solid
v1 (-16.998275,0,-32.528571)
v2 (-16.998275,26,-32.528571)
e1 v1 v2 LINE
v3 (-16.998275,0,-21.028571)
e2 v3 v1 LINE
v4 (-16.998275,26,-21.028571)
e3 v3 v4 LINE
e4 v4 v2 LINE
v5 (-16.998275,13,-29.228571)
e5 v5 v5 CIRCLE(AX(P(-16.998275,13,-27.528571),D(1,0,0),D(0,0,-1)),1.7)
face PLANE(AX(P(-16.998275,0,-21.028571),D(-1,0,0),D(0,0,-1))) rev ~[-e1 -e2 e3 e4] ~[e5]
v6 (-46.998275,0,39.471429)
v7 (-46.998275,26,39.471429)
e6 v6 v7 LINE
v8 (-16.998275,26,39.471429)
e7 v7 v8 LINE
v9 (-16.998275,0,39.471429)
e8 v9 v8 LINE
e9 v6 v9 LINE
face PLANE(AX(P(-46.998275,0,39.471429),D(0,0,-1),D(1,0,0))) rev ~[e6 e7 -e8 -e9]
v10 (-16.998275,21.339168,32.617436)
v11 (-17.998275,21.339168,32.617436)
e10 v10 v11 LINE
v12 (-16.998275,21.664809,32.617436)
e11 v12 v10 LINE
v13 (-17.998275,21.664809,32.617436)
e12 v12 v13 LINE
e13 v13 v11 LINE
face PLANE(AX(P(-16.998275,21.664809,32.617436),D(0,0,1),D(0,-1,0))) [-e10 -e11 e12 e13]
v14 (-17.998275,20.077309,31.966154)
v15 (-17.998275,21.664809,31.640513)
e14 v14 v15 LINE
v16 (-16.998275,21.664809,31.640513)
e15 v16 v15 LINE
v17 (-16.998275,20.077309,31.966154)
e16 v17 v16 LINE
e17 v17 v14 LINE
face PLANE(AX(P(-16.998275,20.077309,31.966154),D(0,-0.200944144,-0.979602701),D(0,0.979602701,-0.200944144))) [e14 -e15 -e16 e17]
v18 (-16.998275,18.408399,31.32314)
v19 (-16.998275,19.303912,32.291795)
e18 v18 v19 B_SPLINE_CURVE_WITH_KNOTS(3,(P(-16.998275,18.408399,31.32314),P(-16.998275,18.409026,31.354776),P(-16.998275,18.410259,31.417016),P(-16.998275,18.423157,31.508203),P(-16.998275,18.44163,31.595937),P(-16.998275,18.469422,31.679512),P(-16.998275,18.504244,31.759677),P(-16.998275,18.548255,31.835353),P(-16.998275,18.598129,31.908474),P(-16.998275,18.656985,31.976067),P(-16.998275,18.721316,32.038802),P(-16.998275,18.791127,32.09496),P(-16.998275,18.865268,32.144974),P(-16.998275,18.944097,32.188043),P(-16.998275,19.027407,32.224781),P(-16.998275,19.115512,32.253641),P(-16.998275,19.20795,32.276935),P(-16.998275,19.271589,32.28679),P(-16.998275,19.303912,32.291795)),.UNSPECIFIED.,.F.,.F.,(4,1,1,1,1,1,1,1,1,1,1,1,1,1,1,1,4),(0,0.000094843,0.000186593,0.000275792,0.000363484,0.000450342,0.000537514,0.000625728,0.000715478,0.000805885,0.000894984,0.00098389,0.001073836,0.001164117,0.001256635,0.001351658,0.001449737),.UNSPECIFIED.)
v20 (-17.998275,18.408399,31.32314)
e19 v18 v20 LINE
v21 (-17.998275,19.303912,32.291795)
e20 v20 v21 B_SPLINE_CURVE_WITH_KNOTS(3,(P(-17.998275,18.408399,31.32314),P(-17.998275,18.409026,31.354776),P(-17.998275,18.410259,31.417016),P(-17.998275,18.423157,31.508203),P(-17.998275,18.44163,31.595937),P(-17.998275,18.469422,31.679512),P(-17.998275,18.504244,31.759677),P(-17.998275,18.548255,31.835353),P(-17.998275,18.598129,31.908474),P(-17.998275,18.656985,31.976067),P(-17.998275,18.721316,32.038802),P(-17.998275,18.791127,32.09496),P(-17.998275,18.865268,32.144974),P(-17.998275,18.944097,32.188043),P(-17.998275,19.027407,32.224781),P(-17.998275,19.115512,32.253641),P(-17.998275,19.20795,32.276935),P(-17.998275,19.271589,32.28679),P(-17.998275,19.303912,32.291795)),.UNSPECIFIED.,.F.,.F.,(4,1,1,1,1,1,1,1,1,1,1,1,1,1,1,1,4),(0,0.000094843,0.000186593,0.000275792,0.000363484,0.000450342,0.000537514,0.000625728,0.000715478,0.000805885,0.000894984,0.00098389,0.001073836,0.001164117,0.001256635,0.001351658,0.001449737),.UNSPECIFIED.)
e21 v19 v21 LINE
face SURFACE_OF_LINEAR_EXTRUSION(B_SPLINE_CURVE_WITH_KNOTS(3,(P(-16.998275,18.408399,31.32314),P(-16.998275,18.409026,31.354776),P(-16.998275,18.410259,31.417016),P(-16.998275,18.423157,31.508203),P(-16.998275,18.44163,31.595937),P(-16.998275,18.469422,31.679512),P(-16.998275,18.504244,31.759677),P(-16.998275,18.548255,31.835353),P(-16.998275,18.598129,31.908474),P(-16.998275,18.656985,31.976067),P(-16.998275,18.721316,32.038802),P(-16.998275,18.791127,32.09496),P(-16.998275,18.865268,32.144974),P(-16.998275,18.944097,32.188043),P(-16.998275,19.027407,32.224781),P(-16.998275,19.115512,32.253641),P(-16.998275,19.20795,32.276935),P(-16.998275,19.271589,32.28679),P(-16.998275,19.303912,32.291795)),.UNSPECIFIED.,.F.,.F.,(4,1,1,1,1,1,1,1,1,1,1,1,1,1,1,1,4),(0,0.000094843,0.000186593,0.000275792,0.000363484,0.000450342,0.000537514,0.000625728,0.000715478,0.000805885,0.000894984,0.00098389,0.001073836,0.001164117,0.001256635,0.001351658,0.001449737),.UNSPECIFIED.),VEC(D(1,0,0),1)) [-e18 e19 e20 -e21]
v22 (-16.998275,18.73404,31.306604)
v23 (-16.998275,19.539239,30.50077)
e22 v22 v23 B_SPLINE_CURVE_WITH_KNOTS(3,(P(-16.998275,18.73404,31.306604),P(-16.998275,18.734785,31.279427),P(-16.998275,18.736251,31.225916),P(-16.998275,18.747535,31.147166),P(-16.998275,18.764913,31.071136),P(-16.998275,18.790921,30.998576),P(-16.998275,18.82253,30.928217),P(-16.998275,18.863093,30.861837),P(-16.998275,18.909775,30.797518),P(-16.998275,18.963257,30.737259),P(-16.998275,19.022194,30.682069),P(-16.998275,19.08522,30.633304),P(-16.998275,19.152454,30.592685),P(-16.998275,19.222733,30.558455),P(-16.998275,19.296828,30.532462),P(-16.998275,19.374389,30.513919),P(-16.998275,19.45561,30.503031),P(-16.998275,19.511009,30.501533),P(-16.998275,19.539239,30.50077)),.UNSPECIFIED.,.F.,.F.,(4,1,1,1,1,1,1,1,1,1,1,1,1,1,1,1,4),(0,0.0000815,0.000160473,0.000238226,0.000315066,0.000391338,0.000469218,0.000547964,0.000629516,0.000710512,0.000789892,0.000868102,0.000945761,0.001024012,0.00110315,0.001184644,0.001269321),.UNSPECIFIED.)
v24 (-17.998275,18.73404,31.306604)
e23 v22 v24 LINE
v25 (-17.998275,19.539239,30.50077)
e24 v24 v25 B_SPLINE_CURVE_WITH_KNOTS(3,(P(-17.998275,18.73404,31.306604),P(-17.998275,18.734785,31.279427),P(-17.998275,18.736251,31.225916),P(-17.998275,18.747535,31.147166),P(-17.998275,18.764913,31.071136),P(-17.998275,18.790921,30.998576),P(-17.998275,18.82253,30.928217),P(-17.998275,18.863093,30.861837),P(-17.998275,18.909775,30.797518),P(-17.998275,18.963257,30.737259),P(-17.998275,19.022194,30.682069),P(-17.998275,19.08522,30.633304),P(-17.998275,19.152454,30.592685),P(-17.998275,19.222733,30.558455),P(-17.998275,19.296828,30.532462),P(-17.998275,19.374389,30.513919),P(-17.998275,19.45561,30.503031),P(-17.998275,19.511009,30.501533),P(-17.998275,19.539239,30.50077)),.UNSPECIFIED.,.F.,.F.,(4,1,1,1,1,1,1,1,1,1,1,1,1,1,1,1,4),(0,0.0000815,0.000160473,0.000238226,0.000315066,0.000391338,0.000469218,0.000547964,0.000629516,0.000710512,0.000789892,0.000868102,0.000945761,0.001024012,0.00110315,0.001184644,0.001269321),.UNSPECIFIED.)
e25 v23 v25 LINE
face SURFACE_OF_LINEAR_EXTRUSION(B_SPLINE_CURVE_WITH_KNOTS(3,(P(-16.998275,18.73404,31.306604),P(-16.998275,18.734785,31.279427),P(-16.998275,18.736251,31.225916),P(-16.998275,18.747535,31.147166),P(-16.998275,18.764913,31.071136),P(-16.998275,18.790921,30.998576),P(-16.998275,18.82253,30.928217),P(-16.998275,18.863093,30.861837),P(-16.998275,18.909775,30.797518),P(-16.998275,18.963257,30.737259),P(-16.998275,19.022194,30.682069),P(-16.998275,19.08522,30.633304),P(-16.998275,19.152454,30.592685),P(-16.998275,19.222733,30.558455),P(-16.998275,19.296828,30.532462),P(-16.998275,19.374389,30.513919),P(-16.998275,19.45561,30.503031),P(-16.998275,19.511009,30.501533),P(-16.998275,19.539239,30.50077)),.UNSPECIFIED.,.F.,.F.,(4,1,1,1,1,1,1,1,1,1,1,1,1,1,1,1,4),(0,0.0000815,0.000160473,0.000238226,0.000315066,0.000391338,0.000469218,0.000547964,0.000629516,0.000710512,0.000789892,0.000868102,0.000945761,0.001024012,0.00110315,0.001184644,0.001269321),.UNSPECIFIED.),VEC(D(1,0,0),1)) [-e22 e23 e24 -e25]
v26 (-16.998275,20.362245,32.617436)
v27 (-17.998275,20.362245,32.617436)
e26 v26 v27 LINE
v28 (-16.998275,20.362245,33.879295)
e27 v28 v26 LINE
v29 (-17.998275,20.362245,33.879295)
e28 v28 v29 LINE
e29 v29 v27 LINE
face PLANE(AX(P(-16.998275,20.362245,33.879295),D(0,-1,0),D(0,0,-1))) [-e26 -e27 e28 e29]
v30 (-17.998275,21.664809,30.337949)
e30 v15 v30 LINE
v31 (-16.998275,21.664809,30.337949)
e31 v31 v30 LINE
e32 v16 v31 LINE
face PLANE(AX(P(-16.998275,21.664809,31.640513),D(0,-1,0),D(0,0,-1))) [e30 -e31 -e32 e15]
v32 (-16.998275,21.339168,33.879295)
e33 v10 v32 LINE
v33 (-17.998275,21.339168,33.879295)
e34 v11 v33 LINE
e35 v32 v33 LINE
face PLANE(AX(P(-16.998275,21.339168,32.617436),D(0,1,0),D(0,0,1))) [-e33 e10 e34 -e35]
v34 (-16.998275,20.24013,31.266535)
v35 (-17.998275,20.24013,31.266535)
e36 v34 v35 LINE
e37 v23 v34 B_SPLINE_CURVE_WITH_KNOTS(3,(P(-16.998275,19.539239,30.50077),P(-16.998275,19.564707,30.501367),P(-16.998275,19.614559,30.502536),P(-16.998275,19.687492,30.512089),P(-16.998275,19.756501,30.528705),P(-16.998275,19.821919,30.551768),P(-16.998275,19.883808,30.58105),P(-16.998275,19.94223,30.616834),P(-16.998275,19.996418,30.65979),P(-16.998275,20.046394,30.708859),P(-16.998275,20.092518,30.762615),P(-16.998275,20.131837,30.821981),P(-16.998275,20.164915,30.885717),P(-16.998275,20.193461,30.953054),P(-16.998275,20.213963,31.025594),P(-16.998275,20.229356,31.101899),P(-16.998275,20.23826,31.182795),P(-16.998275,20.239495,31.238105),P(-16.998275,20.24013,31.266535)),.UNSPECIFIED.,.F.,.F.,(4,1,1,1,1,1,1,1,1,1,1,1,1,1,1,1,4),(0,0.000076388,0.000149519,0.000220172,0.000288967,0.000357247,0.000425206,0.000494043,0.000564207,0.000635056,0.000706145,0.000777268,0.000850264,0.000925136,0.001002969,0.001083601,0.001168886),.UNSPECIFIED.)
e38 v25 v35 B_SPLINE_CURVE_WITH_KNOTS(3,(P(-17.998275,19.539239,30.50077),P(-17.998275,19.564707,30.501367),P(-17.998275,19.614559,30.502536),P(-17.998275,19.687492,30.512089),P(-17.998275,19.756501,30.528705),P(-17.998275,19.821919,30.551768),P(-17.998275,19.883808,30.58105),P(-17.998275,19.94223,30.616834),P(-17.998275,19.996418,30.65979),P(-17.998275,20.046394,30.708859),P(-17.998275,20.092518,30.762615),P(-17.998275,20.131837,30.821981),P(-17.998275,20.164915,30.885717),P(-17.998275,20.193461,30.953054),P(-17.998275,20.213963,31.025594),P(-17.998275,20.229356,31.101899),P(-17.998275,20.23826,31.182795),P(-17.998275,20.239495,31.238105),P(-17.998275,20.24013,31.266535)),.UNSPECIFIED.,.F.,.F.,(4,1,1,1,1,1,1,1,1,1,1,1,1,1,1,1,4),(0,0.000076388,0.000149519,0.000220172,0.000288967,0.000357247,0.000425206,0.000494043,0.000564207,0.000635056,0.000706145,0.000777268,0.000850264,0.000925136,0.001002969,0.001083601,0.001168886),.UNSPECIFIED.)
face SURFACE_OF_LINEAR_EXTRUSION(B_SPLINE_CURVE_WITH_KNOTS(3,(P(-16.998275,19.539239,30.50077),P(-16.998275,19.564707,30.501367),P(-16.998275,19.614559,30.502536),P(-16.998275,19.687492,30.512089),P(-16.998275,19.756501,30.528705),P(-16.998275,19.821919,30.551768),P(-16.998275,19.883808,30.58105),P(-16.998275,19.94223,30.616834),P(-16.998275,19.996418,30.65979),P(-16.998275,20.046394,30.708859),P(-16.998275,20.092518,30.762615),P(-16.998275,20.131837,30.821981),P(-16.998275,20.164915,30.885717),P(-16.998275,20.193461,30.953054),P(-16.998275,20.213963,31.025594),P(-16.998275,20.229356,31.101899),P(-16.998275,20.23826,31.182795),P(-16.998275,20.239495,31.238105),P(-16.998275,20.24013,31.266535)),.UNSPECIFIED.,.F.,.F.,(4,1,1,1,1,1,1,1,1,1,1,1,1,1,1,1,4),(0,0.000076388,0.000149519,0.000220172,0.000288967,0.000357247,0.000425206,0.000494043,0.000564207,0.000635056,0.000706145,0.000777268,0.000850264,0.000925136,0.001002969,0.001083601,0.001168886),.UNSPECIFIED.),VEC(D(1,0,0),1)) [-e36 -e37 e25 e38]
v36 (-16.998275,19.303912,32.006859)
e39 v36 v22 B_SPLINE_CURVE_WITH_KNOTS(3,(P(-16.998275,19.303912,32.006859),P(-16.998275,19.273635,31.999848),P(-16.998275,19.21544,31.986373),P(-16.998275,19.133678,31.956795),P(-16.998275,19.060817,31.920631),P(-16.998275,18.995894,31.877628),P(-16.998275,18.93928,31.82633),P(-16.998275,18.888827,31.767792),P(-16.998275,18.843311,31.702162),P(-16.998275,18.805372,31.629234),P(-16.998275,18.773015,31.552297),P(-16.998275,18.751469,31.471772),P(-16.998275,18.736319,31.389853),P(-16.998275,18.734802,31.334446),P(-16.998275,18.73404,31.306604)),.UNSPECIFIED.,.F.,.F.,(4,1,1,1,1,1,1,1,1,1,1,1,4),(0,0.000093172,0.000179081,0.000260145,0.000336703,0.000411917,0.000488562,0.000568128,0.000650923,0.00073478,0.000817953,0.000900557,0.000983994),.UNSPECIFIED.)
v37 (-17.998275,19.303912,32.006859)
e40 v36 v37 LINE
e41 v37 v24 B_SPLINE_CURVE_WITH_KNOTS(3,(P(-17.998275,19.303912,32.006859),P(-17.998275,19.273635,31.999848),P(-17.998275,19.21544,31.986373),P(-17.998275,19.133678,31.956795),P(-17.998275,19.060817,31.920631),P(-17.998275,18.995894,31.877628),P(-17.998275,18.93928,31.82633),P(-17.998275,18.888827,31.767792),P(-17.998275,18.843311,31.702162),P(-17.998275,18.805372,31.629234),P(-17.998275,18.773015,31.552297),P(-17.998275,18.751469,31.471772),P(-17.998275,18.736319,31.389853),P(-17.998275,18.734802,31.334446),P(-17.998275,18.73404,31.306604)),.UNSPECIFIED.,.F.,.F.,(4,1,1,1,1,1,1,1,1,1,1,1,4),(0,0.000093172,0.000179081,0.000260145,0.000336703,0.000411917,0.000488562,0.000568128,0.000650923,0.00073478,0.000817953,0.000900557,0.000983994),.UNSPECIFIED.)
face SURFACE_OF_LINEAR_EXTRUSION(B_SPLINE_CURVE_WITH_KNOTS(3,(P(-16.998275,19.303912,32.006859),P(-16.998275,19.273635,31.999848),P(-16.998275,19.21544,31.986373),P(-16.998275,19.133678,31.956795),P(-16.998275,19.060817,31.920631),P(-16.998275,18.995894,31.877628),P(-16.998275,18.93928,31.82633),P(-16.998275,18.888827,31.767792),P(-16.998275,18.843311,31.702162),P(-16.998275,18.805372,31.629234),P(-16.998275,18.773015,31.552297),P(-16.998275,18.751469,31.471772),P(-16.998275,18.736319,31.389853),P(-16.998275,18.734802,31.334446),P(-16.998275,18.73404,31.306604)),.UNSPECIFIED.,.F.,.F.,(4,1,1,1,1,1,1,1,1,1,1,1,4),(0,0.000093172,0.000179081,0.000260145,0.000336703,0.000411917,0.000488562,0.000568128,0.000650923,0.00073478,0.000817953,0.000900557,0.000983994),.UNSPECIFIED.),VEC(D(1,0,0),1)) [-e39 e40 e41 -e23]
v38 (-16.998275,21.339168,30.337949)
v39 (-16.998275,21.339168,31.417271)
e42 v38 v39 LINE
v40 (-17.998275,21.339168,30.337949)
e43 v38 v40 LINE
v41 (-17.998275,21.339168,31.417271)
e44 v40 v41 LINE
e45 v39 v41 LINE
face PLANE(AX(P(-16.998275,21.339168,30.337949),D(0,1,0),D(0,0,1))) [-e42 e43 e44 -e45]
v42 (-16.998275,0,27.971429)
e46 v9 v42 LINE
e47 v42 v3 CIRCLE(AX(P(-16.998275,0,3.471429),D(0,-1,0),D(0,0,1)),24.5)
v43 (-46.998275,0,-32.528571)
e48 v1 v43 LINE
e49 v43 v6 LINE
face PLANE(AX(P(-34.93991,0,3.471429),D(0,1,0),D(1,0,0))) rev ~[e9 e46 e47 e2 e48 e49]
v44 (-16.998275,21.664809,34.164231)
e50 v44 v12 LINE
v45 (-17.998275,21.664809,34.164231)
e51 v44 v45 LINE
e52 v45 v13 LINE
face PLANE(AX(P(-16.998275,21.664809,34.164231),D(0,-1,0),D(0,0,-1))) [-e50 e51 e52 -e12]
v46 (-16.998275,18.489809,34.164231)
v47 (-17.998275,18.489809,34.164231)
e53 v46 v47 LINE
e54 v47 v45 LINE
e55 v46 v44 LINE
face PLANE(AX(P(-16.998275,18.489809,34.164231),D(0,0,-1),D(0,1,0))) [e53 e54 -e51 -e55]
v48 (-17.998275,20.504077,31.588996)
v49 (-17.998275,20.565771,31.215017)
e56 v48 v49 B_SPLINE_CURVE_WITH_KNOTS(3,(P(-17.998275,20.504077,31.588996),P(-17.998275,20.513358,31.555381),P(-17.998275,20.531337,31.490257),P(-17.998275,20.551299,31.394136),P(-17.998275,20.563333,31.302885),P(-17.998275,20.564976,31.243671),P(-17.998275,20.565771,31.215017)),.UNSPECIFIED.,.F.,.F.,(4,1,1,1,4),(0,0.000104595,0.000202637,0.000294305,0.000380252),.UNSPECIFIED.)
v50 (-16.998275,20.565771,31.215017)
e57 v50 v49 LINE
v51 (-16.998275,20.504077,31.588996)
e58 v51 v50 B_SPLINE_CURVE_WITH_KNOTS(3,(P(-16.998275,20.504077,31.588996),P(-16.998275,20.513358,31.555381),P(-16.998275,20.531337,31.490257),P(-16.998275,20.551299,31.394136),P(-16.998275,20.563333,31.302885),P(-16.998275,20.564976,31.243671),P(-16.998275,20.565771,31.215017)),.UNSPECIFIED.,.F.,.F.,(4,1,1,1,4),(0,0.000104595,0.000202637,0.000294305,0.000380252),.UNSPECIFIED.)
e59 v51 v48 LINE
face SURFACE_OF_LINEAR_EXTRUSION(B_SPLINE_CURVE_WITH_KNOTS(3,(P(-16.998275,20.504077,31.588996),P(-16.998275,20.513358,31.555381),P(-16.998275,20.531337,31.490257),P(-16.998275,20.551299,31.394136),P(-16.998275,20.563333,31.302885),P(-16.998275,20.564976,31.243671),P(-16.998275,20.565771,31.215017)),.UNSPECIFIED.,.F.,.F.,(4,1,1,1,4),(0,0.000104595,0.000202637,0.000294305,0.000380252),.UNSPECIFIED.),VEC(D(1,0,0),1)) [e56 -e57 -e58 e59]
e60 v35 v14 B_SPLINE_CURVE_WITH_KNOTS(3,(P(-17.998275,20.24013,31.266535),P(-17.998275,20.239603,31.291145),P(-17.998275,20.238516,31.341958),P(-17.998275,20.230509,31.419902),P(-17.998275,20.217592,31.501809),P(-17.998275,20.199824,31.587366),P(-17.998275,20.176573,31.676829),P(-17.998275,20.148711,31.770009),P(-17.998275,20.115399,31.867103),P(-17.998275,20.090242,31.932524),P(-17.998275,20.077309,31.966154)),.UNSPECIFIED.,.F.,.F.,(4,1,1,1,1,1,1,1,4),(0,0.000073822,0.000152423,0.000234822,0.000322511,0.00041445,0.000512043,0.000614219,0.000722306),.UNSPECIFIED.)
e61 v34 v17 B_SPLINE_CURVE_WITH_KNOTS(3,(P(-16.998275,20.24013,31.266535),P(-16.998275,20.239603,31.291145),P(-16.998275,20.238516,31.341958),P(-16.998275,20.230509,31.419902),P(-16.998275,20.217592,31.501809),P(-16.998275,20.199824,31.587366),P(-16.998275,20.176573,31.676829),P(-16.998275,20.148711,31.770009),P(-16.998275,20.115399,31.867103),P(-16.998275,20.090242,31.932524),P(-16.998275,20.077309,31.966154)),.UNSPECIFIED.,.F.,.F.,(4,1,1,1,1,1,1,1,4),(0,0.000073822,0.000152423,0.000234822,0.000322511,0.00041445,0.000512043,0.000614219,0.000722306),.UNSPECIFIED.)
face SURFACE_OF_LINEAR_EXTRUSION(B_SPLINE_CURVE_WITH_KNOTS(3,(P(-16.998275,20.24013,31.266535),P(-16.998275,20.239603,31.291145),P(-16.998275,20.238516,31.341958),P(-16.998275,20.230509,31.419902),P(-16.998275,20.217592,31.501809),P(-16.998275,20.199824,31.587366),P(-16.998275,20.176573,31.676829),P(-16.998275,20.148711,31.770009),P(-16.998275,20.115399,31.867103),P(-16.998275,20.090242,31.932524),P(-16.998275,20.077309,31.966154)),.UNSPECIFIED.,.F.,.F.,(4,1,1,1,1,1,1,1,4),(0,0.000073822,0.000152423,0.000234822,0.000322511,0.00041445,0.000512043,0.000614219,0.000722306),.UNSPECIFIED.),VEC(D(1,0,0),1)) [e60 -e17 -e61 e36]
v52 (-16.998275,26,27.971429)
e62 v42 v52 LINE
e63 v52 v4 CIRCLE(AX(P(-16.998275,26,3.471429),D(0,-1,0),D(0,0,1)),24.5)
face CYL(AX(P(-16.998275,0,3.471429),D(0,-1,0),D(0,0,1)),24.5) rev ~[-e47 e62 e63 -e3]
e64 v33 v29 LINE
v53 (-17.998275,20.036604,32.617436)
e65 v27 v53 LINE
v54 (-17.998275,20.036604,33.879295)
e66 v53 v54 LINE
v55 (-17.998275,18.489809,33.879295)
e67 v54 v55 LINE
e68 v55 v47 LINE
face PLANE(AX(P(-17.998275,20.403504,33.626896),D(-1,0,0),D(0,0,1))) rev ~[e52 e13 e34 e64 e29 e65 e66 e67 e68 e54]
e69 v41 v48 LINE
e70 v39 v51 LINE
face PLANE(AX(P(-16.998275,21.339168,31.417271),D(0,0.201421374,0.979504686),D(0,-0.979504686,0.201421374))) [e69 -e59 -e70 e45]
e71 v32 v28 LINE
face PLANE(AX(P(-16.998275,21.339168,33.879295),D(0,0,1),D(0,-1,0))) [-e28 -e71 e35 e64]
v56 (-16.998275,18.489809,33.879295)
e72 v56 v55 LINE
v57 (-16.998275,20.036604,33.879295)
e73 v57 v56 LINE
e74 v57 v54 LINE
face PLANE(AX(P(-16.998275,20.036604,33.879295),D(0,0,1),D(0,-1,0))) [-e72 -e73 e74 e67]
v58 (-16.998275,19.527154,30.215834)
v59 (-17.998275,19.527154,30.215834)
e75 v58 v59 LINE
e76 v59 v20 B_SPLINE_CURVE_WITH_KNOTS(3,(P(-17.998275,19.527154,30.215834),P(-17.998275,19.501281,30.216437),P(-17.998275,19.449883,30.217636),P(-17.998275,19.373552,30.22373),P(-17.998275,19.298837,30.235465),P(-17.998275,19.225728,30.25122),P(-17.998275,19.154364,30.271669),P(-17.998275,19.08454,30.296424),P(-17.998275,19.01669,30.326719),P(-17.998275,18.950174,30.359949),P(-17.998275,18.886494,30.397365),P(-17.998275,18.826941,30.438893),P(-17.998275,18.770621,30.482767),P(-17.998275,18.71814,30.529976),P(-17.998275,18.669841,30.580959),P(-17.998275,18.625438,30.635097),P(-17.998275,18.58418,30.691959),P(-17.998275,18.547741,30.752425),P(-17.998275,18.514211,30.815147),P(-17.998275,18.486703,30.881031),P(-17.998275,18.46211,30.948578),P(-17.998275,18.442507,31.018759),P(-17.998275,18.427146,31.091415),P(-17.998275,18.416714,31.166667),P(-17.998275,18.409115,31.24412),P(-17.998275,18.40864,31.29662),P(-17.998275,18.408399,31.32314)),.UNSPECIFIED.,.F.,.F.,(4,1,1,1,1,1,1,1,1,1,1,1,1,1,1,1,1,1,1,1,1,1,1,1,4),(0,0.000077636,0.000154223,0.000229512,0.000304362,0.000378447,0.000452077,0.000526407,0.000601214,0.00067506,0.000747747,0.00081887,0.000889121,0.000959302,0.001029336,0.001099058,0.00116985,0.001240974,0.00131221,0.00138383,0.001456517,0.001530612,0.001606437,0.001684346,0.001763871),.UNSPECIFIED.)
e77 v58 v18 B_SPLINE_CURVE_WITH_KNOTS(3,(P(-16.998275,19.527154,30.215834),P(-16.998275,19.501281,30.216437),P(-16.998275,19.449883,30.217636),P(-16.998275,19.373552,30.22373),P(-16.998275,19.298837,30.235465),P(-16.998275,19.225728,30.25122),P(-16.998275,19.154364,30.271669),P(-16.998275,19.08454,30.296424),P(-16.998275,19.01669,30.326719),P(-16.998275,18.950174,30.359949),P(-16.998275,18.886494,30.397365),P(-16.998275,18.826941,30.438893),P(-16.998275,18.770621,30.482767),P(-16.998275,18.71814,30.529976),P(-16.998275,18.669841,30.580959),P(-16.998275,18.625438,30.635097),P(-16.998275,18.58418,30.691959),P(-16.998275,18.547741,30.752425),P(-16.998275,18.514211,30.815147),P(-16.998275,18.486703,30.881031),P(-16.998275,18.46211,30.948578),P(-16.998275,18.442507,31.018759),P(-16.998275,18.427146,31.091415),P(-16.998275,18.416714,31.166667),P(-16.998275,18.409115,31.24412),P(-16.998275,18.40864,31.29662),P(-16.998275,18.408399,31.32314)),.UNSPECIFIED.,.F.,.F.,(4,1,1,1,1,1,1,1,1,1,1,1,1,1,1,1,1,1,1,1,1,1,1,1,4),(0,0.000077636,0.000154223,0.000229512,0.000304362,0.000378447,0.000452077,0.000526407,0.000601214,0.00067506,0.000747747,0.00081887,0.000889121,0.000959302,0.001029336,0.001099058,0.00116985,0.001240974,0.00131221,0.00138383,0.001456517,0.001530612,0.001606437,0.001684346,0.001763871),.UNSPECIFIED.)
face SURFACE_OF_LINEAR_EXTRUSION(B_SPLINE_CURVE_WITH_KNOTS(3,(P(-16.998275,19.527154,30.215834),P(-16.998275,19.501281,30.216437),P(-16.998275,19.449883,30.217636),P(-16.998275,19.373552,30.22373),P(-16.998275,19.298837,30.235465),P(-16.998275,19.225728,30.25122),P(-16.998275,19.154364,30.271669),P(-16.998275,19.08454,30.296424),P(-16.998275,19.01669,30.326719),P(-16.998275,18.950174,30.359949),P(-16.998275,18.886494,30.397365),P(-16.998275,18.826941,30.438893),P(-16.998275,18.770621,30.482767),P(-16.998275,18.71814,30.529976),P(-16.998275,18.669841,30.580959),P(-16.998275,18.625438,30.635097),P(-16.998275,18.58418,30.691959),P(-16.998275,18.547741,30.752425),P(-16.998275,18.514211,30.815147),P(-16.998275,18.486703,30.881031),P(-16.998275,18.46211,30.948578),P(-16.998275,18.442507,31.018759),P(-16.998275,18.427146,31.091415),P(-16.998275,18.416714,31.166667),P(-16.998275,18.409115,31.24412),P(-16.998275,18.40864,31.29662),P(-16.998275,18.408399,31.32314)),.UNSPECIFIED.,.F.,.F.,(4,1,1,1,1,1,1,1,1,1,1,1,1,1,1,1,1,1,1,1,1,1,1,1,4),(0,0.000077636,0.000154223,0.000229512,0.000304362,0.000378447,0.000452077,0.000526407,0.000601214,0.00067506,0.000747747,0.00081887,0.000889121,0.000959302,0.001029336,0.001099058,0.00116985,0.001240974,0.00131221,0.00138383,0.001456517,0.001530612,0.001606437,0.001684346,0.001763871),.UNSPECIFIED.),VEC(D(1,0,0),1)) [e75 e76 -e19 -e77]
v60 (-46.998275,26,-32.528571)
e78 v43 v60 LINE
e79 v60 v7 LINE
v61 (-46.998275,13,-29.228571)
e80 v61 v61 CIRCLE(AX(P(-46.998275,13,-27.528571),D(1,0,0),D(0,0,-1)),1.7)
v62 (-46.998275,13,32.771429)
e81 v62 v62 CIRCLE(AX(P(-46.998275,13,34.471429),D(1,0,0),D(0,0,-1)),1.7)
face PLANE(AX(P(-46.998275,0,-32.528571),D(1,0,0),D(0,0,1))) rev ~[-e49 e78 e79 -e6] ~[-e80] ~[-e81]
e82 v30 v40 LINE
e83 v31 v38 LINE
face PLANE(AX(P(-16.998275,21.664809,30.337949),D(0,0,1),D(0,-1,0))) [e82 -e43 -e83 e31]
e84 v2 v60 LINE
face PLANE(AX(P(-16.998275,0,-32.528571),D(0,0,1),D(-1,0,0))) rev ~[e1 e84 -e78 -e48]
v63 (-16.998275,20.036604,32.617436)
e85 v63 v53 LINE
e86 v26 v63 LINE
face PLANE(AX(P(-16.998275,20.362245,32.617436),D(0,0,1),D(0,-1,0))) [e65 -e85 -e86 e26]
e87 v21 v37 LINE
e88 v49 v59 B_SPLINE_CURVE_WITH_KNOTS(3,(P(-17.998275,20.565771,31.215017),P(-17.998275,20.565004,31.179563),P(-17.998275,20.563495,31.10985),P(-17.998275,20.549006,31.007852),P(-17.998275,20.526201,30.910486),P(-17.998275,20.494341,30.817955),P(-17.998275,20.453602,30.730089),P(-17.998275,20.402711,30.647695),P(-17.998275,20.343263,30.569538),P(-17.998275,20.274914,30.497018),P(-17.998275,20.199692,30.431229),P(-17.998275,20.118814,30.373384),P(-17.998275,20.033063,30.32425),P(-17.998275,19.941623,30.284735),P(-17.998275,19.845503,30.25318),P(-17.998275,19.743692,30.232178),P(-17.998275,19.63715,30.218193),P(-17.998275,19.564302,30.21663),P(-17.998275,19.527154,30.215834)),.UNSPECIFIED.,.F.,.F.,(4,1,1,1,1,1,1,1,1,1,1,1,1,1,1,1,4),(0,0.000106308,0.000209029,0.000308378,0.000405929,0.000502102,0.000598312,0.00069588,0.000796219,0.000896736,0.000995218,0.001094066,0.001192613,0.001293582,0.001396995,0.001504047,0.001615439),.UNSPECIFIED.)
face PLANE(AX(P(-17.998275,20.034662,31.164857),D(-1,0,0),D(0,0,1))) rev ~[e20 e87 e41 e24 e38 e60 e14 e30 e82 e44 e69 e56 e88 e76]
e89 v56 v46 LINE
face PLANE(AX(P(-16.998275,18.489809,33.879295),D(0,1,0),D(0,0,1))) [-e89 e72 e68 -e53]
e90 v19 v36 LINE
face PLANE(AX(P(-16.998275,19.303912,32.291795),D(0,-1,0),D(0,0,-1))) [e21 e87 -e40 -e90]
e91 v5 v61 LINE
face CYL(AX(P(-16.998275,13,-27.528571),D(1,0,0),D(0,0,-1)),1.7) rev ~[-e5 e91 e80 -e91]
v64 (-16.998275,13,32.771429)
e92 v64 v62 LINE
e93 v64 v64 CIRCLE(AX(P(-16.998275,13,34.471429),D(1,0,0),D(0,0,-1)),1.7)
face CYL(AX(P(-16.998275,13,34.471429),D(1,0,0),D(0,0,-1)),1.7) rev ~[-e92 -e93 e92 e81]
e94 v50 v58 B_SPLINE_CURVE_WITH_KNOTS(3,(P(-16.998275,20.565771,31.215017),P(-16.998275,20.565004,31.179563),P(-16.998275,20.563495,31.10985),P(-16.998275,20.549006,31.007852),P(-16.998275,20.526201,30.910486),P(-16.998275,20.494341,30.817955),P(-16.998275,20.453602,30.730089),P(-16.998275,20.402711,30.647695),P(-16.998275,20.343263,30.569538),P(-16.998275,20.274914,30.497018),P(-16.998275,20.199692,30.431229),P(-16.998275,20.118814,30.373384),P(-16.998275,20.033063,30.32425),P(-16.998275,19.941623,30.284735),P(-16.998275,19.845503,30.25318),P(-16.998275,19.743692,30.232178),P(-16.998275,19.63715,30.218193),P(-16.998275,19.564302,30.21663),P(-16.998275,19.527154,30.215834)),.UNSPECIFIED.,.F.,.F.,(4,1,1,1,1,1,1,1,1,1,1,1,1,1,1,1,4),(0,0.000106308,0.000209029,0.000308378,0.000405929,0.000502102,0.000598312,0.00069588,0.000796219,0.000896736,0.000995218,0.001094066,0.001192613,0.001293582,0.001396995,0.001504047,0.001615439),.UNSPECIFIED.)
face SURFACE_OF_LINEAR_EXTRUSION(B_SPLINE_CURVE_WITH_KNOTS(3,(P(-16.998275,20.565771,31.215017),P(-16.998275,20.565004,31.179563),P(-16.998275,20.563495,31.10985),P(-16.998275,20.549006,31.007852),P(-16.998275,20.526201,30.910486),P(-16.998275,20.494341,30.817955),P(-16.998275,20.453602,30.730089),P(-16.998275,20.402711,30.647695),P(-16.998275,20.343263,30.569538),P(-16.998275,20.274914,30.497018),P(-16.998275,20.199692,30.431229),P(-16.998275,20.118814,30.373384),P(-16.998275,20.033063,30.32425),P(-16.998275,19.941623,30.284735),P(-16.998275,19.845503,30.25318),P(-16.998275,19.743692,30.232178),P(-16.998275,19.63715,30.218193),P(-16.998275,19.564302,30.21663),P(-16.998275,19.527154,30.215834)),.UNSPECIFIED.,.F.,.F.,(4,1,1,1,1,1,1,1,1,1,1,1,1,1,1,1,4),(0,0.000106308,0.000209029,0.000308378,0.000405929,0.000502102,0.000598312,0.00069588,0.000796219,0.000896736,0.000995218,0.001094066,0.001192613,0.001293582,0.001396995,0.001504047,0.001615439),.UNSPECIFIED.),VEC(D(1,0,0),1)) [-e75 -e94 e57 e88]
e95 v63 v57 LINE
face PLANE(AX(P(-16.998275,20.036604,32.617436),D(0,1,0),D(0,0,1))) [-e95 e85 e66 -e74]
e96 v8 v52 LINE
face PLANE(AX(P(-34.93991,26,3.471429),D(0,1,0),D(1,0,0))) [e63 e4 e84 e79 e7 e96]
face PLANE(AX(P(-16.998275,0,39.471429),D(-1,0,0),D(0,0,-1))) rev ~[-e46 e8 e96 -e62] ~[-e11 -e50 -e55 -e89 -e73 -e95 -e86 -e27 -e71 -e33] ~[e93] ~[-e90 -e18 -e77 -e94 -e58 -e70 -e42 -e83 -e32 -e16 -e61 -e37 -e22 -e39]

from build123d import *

# Parameters (mm, degrees)
BOSS_EXTRUDE1_DEPTH = 26
SKETCH2_R           = 1.7
CUT_EXTRUDE1_DEPTH  = 31
CUT_EXTRUDE2_DEPTH  = 1


with BuildPart() as part:
    # Sketch1 → Boss-Extrude1 (new body)
    with BuildSketch(Plane(origin=(0, 0, 0), x_dir=(1, 0, 0), z_dir=(0, 1, 0))):
        with BuildLine():
            Line((-46.998275301, 32.528571429), (-46.998275301, -39.471428571))
            Line((-46.998275301, -39.471428571), (-16.998275301, -39.471428571))
            Line((-16.998275301, -39.471428571), (-16.998275301, -27.971428571))
            ThreePointArc((-16.998275301, -27.971428571), (-41.498275301, -3.471428571), (-16.998275301, 21.028571429))
            Line((-16.998275301, 21.028571429), (-16.998275301, 32.528571429))
            Line((-16.998275301, 32.528571429), (-46.998275301, 32.528571429))
        make_face()
    extrude(amount=BOSS_EXTRUDE1_DEPTH)

    # Sketch2 → Cut-Extrude1 (cut, through all)
    with BuildSketch(Plane(origin=(-16.998275301, 0, 0), x_dir=(0, 0, -1), z_dir=(1, 0, 0))):
        with Locations((-34.471428571, 13)):
            Circle(SKETCH2_R)
        with Locations((27.528571429, 13)):
            Circle(SKETCH2_R)
    extrude(amount=-CUT_EXTRUDE1_DEPTH, mode=Mode.SUBTRACT)

    # Sketch3 → Cut-Extrude2 (cut)
    with BuildSketch(Plane(origin=(-16.998275301, 0, 0), x_dir=(0, 0, -1), z_dir=(1, 0, 0))):
        Polygon((-34.164231178, 21.664809495), (-32.617436306, 21.664809495), (-32.617436306, 21.33916847), (-33.87929528, 21.33916847), (-33.87929528, 20.362245393), (-32.617436306, 20.362245393), (-32.617436306, 20.036604367), (-33.87929528, 20.036604367), (-33.87929528, 18.489809495), (-34.164231178, 18.489809495), align=None)
        with BuildLine():
            Line((-30.337949127, 21.664809495), (-30.337949127, 21.33916847))
            Line((-30.337949127, 21.33916847), (-31.417271042, 21.33916847))
            Line((-31.417271042, 21.33916847), (-31.588995801, 20.504077324))
            add(Edge.make_bspline(
                [(-31.588995801, 20.504077324), (-31.555380829, 20.513357642), (-31.490257138, 20.53133679), (-31.394136407, 20.551299168), (-31.302884908, 20.563332821), (-31.243670822, 20.564975938), (-31.215017436, 20.565771034)],
                knots=[0, 0, 0, 0, 0.000104595, 0.000202637, 0.000294305, 0.000380252, 0.000380252, 0.000380252, 0.000380252], degree=3))
            add(Edge.make_bspline(
                [(-31.215017436, 20.565771034), (-31.179562901, 20.565003649), (-31.109850426, 20.56349478), (-31.007852238, 20.54900603), (-30.910485971, 20.526200536), (-30.817955249, 20.494341206), (-30.730088893, 20.453601662), (-30.647695319, 20.402711002), (-30.569537784, 20.343262909), (-30.497018431, 20.27491422), (-30.431228522, 20.199692467), (-30.37338366, 20.118813541), (-30.324250453, 20.033063448), (-30.284734626, 19.941622896), (-30.253180265, 19.845502806), (-30.232178099, 19.743691821), (-30.218192941, 19.637149598), (-30.216630491, 19.564301881), (-30.215833742, 19.527154247)],
                knots=[0, 0, 0, 0, 0.000106308, 0.000209029, 0.000308378, 0.000405929, 0.000502102, 0.000598312, 0.00069588, 0.000796219, 0.000896736, 0.000995218, 0.001094066, 0.001192613, 0.001293582, 0.001396995, 0.001504047, 0.001615439, 0.001615439, 0.001615439, 0.001615439], degree=3))
            add(Edge.make_bspline(
                [(-30.215833742, 19.527154247), (-30.21643706, 19.501280519), (-30.217635543, 19.449882723), (-30.223730262, 19.373551912), (-30.235464805, 19.298837056), (-30.251219812, 19.225728244), (-30.271669005, 19.154363885), (-30.296424075, 19.084539713), (-30.326719043, 19.01669032), (-30.359948934, 18.950173711), (-30.397365381, 18.886493637), (-30.438893027, 18.826940628), (-30.482767437, 18.770621315), (-30.529976408, 18.718139715), (-30.58095874, 18.669840691), (-30.635096995, 18.625437607), (-30.691959176, 18.584179543), (-30.752425003, 18.547741252), (-30.815147113, 18.51421057), (-30.881031281, 18.48670279), (-30.948577774, 18.462109668), (-31.018758768, 18.44250674), (-31.091415298, 18.427146494), (-31.16666713, 18.416713806), (-31.244119595, 18.409115181), (-31.296620499, 18.408639514), (-31.323140433, 18.408399239)],
                knots=[0, 0, 0, 0, 7.7636e-05, 0.000154223, 0.000229512, 0.000304362, 0.000378447, 0.000452077, 0.000526407, 0.000601214, 0.00067506, 0.000747747, 0.00081887, 0.000889121, 0.000959302, 0.001029336, 0.001099058, 0.00116985, 0.001240974, 0.00131221, 0.00138383, 0.001456517, 0.001530612, 0.001606437, 0.001684346, 0.001763871, 0.001763871, 0.001763871, 0.001763871], degree=3))
            add(Edge.make_bspline(
                [(-31.323140433, 18.408399239), (-31.354776297, 18.409025928), (-31.417016122, 18.410258864), (-31.508202636, 18.423157061), (-31.5959366, 18.441630042), (-31.679511763, 18.469421516), (-31.759677124, 18.504244276), (-31.835353446, 18.548255374), (-31.9084744, 18.598129276), (-31.976067462, 18.656985024), (-32.038801936, 18.721315679), (-32.094959984, 18.791127253), (-32.144974014, 18.865267533), (-32.188043113, 18.944096573), (-32.224780604, 19.02740724), (-32.253641343, 19.115511677), (-32.276935279, 19.207949537), (-32.286789954, 19.271588793), (-32.29179528, 19.303912059)],
                knots=[0, 0, 0, 0, 9.4843e-05, 0.000186593, 0.000275792, 0.000363484, 0.000450342, 0.000537514, 0.000625728, 0.000715478, 0.000805885, 0.000894984, 0.00098389, 0.001073836, 0.001164117, 0.001256635, 0.001351658, 0.001449737, 0.001449737, 0.001449737, 0.001449737], degree=3))
            Line((-32.29179528, 19.303912059), (-32.006859383, 19.303912059))
            add(Edge.make_bspline(
                [(-32.006859383, 19.303912059), (-31.999848477, 19.273634849), (-31.986373127, 19.215440369), (-31.956795055, 19.133678367), (-31.920631011, 19.060817357), (-31.877628495, 18.995893521), (-31.826329539, 18.939279645), (-31.767792128, 18.888827024), (-31.702162408, 18.843311014), (-31.629234264, 18.805371789), (-31.552296685, 18.773015134), (-31.471772144, 18.751468954), (-31.389853202, 18.736318858), (-31.334446394, 18.734802333), (-31.306603974, 18.734040265)],
                knots=[0, 0, 0, 0, 9.3172e-05, 0.000179081, 0.000260145, 0.000336703, 0.000411917, 0.000488562, 0.000568128, 0.000650923, 0.00073478, 0.000817953, 0.000900557, 0.000983994, 0.000983994, 0.000983994, 0.000983994], degree=3))
            add(Edge.make_bspline(
                [(-31.306603974, 18.734040265), (-31.279427385, 18.734784827), (-31.22591646, 18.736250878), (-31.14716613, 18.747534839), (-31.07113588, 18.764913493), (-30.998575921, 18.790921147), (-30.928216524, 18.822530284), (-30.861837461, 18.863093246), (-30.797518422, 18.909774834), (-30.737258616, 18.96325692), (-30.682068544, 19.022193714), (-30.633304062, 19.085219635), (-30.592685005, 19.152454203), (-30.558454778, 19.222733421), (-30.532462142, 19.29682754), (-30.513919252, 19.374389321), (-30.503030763, 19.455610338), (-30.501532907, 19.511008927), (-30.500769639, 19.539238582)],
                knots=[0, 0, 0, 0, 8.15e-05, 0.000160473, 0.000238226, 0.000315066, 0.000391338, 0.000469218, 0.000547964, 0.000629516, 0.000710512, 0.000789892, 0.000868102, 0.000945761, 0.001024012, 0.00110315, 0.001184644, 0.001269321, 0.001269321, 0.001269321, 0.001269321], degree=3))
            add(Edge.make_bspline(
                [(-30.500769639, 19.539238582), (-30.501366974, 19.564707299), (-30.502536172, 19.61455869), (-30.512088904, 19.687492256), (-30.528705015, 19.756501373), (-30.551768106, 19.821919285), (-30.581050231, 19.883807694), (-30.616833671, 19.94223047), (-30.659789968, 19.99641759), (-30.708859038, 20.046394406), (-30.762614547, 20.092517971), (-30.82198137, 20.13183725), (-30.885717161, 20.164915232), (-30.953054012, 20.193461202), (-31.025593599, 20.213963307), (-31.101899401, 20.229355603), (-31.182795415, 20.238259539), (-31.238104539, 20.239494967), (-31.266534864, 20.240130008)],
                knots=[0, 0, 0, 0, 7.6388e-05, 0.000149519, 0.000220172, 0.000288967, 0.000357247, 0.000425206, 0.000494043, 0.000564207, 0.000635056, 0.000706145, 0.000777268, 0.000850264, 0.000925136, 0.001002969, 0.001083601, 0.001168886, 0.001168886, 0.001168886, 0.001168886], degree=3))
            add(Edge.make_bspline(
                [(-31.266534864, 20.240130008), (-31.291144678, 20.239603329), (-31.3419577, 20.23851587), (-31.419901979, 20.230508977), (-31.50180947, 20.217591903), (-31.587366191, 20.199824378), (-31.676829081, 20.17657333), (-31.770009344, 20.14871089), (-31.8671029, 20.115398791), (-31.932523979, 20.090241712), (-31.966154255, 20.077309495)],
                knots=[0, 0, 0, 0, 7.3822e-05, 0.000152423, 0.000234822, 0.000322511, 0.00041445, 0.000512043, 0.000614219, 0.000722306, 0.000722306, 0.000722306, 0.000722306], degree=3))
            Line((-31.966154255, 20.077309495), (-31.640513229, 21.664809495))
            Line((-31.640513229, 21.664809495), (-30.337949127, 21.664809495))
        make_face()
    extrude(amount=-CUT_EXTRUDE2_DEPTH, mode=Mode.SUBTRACT)


solid = part.part
